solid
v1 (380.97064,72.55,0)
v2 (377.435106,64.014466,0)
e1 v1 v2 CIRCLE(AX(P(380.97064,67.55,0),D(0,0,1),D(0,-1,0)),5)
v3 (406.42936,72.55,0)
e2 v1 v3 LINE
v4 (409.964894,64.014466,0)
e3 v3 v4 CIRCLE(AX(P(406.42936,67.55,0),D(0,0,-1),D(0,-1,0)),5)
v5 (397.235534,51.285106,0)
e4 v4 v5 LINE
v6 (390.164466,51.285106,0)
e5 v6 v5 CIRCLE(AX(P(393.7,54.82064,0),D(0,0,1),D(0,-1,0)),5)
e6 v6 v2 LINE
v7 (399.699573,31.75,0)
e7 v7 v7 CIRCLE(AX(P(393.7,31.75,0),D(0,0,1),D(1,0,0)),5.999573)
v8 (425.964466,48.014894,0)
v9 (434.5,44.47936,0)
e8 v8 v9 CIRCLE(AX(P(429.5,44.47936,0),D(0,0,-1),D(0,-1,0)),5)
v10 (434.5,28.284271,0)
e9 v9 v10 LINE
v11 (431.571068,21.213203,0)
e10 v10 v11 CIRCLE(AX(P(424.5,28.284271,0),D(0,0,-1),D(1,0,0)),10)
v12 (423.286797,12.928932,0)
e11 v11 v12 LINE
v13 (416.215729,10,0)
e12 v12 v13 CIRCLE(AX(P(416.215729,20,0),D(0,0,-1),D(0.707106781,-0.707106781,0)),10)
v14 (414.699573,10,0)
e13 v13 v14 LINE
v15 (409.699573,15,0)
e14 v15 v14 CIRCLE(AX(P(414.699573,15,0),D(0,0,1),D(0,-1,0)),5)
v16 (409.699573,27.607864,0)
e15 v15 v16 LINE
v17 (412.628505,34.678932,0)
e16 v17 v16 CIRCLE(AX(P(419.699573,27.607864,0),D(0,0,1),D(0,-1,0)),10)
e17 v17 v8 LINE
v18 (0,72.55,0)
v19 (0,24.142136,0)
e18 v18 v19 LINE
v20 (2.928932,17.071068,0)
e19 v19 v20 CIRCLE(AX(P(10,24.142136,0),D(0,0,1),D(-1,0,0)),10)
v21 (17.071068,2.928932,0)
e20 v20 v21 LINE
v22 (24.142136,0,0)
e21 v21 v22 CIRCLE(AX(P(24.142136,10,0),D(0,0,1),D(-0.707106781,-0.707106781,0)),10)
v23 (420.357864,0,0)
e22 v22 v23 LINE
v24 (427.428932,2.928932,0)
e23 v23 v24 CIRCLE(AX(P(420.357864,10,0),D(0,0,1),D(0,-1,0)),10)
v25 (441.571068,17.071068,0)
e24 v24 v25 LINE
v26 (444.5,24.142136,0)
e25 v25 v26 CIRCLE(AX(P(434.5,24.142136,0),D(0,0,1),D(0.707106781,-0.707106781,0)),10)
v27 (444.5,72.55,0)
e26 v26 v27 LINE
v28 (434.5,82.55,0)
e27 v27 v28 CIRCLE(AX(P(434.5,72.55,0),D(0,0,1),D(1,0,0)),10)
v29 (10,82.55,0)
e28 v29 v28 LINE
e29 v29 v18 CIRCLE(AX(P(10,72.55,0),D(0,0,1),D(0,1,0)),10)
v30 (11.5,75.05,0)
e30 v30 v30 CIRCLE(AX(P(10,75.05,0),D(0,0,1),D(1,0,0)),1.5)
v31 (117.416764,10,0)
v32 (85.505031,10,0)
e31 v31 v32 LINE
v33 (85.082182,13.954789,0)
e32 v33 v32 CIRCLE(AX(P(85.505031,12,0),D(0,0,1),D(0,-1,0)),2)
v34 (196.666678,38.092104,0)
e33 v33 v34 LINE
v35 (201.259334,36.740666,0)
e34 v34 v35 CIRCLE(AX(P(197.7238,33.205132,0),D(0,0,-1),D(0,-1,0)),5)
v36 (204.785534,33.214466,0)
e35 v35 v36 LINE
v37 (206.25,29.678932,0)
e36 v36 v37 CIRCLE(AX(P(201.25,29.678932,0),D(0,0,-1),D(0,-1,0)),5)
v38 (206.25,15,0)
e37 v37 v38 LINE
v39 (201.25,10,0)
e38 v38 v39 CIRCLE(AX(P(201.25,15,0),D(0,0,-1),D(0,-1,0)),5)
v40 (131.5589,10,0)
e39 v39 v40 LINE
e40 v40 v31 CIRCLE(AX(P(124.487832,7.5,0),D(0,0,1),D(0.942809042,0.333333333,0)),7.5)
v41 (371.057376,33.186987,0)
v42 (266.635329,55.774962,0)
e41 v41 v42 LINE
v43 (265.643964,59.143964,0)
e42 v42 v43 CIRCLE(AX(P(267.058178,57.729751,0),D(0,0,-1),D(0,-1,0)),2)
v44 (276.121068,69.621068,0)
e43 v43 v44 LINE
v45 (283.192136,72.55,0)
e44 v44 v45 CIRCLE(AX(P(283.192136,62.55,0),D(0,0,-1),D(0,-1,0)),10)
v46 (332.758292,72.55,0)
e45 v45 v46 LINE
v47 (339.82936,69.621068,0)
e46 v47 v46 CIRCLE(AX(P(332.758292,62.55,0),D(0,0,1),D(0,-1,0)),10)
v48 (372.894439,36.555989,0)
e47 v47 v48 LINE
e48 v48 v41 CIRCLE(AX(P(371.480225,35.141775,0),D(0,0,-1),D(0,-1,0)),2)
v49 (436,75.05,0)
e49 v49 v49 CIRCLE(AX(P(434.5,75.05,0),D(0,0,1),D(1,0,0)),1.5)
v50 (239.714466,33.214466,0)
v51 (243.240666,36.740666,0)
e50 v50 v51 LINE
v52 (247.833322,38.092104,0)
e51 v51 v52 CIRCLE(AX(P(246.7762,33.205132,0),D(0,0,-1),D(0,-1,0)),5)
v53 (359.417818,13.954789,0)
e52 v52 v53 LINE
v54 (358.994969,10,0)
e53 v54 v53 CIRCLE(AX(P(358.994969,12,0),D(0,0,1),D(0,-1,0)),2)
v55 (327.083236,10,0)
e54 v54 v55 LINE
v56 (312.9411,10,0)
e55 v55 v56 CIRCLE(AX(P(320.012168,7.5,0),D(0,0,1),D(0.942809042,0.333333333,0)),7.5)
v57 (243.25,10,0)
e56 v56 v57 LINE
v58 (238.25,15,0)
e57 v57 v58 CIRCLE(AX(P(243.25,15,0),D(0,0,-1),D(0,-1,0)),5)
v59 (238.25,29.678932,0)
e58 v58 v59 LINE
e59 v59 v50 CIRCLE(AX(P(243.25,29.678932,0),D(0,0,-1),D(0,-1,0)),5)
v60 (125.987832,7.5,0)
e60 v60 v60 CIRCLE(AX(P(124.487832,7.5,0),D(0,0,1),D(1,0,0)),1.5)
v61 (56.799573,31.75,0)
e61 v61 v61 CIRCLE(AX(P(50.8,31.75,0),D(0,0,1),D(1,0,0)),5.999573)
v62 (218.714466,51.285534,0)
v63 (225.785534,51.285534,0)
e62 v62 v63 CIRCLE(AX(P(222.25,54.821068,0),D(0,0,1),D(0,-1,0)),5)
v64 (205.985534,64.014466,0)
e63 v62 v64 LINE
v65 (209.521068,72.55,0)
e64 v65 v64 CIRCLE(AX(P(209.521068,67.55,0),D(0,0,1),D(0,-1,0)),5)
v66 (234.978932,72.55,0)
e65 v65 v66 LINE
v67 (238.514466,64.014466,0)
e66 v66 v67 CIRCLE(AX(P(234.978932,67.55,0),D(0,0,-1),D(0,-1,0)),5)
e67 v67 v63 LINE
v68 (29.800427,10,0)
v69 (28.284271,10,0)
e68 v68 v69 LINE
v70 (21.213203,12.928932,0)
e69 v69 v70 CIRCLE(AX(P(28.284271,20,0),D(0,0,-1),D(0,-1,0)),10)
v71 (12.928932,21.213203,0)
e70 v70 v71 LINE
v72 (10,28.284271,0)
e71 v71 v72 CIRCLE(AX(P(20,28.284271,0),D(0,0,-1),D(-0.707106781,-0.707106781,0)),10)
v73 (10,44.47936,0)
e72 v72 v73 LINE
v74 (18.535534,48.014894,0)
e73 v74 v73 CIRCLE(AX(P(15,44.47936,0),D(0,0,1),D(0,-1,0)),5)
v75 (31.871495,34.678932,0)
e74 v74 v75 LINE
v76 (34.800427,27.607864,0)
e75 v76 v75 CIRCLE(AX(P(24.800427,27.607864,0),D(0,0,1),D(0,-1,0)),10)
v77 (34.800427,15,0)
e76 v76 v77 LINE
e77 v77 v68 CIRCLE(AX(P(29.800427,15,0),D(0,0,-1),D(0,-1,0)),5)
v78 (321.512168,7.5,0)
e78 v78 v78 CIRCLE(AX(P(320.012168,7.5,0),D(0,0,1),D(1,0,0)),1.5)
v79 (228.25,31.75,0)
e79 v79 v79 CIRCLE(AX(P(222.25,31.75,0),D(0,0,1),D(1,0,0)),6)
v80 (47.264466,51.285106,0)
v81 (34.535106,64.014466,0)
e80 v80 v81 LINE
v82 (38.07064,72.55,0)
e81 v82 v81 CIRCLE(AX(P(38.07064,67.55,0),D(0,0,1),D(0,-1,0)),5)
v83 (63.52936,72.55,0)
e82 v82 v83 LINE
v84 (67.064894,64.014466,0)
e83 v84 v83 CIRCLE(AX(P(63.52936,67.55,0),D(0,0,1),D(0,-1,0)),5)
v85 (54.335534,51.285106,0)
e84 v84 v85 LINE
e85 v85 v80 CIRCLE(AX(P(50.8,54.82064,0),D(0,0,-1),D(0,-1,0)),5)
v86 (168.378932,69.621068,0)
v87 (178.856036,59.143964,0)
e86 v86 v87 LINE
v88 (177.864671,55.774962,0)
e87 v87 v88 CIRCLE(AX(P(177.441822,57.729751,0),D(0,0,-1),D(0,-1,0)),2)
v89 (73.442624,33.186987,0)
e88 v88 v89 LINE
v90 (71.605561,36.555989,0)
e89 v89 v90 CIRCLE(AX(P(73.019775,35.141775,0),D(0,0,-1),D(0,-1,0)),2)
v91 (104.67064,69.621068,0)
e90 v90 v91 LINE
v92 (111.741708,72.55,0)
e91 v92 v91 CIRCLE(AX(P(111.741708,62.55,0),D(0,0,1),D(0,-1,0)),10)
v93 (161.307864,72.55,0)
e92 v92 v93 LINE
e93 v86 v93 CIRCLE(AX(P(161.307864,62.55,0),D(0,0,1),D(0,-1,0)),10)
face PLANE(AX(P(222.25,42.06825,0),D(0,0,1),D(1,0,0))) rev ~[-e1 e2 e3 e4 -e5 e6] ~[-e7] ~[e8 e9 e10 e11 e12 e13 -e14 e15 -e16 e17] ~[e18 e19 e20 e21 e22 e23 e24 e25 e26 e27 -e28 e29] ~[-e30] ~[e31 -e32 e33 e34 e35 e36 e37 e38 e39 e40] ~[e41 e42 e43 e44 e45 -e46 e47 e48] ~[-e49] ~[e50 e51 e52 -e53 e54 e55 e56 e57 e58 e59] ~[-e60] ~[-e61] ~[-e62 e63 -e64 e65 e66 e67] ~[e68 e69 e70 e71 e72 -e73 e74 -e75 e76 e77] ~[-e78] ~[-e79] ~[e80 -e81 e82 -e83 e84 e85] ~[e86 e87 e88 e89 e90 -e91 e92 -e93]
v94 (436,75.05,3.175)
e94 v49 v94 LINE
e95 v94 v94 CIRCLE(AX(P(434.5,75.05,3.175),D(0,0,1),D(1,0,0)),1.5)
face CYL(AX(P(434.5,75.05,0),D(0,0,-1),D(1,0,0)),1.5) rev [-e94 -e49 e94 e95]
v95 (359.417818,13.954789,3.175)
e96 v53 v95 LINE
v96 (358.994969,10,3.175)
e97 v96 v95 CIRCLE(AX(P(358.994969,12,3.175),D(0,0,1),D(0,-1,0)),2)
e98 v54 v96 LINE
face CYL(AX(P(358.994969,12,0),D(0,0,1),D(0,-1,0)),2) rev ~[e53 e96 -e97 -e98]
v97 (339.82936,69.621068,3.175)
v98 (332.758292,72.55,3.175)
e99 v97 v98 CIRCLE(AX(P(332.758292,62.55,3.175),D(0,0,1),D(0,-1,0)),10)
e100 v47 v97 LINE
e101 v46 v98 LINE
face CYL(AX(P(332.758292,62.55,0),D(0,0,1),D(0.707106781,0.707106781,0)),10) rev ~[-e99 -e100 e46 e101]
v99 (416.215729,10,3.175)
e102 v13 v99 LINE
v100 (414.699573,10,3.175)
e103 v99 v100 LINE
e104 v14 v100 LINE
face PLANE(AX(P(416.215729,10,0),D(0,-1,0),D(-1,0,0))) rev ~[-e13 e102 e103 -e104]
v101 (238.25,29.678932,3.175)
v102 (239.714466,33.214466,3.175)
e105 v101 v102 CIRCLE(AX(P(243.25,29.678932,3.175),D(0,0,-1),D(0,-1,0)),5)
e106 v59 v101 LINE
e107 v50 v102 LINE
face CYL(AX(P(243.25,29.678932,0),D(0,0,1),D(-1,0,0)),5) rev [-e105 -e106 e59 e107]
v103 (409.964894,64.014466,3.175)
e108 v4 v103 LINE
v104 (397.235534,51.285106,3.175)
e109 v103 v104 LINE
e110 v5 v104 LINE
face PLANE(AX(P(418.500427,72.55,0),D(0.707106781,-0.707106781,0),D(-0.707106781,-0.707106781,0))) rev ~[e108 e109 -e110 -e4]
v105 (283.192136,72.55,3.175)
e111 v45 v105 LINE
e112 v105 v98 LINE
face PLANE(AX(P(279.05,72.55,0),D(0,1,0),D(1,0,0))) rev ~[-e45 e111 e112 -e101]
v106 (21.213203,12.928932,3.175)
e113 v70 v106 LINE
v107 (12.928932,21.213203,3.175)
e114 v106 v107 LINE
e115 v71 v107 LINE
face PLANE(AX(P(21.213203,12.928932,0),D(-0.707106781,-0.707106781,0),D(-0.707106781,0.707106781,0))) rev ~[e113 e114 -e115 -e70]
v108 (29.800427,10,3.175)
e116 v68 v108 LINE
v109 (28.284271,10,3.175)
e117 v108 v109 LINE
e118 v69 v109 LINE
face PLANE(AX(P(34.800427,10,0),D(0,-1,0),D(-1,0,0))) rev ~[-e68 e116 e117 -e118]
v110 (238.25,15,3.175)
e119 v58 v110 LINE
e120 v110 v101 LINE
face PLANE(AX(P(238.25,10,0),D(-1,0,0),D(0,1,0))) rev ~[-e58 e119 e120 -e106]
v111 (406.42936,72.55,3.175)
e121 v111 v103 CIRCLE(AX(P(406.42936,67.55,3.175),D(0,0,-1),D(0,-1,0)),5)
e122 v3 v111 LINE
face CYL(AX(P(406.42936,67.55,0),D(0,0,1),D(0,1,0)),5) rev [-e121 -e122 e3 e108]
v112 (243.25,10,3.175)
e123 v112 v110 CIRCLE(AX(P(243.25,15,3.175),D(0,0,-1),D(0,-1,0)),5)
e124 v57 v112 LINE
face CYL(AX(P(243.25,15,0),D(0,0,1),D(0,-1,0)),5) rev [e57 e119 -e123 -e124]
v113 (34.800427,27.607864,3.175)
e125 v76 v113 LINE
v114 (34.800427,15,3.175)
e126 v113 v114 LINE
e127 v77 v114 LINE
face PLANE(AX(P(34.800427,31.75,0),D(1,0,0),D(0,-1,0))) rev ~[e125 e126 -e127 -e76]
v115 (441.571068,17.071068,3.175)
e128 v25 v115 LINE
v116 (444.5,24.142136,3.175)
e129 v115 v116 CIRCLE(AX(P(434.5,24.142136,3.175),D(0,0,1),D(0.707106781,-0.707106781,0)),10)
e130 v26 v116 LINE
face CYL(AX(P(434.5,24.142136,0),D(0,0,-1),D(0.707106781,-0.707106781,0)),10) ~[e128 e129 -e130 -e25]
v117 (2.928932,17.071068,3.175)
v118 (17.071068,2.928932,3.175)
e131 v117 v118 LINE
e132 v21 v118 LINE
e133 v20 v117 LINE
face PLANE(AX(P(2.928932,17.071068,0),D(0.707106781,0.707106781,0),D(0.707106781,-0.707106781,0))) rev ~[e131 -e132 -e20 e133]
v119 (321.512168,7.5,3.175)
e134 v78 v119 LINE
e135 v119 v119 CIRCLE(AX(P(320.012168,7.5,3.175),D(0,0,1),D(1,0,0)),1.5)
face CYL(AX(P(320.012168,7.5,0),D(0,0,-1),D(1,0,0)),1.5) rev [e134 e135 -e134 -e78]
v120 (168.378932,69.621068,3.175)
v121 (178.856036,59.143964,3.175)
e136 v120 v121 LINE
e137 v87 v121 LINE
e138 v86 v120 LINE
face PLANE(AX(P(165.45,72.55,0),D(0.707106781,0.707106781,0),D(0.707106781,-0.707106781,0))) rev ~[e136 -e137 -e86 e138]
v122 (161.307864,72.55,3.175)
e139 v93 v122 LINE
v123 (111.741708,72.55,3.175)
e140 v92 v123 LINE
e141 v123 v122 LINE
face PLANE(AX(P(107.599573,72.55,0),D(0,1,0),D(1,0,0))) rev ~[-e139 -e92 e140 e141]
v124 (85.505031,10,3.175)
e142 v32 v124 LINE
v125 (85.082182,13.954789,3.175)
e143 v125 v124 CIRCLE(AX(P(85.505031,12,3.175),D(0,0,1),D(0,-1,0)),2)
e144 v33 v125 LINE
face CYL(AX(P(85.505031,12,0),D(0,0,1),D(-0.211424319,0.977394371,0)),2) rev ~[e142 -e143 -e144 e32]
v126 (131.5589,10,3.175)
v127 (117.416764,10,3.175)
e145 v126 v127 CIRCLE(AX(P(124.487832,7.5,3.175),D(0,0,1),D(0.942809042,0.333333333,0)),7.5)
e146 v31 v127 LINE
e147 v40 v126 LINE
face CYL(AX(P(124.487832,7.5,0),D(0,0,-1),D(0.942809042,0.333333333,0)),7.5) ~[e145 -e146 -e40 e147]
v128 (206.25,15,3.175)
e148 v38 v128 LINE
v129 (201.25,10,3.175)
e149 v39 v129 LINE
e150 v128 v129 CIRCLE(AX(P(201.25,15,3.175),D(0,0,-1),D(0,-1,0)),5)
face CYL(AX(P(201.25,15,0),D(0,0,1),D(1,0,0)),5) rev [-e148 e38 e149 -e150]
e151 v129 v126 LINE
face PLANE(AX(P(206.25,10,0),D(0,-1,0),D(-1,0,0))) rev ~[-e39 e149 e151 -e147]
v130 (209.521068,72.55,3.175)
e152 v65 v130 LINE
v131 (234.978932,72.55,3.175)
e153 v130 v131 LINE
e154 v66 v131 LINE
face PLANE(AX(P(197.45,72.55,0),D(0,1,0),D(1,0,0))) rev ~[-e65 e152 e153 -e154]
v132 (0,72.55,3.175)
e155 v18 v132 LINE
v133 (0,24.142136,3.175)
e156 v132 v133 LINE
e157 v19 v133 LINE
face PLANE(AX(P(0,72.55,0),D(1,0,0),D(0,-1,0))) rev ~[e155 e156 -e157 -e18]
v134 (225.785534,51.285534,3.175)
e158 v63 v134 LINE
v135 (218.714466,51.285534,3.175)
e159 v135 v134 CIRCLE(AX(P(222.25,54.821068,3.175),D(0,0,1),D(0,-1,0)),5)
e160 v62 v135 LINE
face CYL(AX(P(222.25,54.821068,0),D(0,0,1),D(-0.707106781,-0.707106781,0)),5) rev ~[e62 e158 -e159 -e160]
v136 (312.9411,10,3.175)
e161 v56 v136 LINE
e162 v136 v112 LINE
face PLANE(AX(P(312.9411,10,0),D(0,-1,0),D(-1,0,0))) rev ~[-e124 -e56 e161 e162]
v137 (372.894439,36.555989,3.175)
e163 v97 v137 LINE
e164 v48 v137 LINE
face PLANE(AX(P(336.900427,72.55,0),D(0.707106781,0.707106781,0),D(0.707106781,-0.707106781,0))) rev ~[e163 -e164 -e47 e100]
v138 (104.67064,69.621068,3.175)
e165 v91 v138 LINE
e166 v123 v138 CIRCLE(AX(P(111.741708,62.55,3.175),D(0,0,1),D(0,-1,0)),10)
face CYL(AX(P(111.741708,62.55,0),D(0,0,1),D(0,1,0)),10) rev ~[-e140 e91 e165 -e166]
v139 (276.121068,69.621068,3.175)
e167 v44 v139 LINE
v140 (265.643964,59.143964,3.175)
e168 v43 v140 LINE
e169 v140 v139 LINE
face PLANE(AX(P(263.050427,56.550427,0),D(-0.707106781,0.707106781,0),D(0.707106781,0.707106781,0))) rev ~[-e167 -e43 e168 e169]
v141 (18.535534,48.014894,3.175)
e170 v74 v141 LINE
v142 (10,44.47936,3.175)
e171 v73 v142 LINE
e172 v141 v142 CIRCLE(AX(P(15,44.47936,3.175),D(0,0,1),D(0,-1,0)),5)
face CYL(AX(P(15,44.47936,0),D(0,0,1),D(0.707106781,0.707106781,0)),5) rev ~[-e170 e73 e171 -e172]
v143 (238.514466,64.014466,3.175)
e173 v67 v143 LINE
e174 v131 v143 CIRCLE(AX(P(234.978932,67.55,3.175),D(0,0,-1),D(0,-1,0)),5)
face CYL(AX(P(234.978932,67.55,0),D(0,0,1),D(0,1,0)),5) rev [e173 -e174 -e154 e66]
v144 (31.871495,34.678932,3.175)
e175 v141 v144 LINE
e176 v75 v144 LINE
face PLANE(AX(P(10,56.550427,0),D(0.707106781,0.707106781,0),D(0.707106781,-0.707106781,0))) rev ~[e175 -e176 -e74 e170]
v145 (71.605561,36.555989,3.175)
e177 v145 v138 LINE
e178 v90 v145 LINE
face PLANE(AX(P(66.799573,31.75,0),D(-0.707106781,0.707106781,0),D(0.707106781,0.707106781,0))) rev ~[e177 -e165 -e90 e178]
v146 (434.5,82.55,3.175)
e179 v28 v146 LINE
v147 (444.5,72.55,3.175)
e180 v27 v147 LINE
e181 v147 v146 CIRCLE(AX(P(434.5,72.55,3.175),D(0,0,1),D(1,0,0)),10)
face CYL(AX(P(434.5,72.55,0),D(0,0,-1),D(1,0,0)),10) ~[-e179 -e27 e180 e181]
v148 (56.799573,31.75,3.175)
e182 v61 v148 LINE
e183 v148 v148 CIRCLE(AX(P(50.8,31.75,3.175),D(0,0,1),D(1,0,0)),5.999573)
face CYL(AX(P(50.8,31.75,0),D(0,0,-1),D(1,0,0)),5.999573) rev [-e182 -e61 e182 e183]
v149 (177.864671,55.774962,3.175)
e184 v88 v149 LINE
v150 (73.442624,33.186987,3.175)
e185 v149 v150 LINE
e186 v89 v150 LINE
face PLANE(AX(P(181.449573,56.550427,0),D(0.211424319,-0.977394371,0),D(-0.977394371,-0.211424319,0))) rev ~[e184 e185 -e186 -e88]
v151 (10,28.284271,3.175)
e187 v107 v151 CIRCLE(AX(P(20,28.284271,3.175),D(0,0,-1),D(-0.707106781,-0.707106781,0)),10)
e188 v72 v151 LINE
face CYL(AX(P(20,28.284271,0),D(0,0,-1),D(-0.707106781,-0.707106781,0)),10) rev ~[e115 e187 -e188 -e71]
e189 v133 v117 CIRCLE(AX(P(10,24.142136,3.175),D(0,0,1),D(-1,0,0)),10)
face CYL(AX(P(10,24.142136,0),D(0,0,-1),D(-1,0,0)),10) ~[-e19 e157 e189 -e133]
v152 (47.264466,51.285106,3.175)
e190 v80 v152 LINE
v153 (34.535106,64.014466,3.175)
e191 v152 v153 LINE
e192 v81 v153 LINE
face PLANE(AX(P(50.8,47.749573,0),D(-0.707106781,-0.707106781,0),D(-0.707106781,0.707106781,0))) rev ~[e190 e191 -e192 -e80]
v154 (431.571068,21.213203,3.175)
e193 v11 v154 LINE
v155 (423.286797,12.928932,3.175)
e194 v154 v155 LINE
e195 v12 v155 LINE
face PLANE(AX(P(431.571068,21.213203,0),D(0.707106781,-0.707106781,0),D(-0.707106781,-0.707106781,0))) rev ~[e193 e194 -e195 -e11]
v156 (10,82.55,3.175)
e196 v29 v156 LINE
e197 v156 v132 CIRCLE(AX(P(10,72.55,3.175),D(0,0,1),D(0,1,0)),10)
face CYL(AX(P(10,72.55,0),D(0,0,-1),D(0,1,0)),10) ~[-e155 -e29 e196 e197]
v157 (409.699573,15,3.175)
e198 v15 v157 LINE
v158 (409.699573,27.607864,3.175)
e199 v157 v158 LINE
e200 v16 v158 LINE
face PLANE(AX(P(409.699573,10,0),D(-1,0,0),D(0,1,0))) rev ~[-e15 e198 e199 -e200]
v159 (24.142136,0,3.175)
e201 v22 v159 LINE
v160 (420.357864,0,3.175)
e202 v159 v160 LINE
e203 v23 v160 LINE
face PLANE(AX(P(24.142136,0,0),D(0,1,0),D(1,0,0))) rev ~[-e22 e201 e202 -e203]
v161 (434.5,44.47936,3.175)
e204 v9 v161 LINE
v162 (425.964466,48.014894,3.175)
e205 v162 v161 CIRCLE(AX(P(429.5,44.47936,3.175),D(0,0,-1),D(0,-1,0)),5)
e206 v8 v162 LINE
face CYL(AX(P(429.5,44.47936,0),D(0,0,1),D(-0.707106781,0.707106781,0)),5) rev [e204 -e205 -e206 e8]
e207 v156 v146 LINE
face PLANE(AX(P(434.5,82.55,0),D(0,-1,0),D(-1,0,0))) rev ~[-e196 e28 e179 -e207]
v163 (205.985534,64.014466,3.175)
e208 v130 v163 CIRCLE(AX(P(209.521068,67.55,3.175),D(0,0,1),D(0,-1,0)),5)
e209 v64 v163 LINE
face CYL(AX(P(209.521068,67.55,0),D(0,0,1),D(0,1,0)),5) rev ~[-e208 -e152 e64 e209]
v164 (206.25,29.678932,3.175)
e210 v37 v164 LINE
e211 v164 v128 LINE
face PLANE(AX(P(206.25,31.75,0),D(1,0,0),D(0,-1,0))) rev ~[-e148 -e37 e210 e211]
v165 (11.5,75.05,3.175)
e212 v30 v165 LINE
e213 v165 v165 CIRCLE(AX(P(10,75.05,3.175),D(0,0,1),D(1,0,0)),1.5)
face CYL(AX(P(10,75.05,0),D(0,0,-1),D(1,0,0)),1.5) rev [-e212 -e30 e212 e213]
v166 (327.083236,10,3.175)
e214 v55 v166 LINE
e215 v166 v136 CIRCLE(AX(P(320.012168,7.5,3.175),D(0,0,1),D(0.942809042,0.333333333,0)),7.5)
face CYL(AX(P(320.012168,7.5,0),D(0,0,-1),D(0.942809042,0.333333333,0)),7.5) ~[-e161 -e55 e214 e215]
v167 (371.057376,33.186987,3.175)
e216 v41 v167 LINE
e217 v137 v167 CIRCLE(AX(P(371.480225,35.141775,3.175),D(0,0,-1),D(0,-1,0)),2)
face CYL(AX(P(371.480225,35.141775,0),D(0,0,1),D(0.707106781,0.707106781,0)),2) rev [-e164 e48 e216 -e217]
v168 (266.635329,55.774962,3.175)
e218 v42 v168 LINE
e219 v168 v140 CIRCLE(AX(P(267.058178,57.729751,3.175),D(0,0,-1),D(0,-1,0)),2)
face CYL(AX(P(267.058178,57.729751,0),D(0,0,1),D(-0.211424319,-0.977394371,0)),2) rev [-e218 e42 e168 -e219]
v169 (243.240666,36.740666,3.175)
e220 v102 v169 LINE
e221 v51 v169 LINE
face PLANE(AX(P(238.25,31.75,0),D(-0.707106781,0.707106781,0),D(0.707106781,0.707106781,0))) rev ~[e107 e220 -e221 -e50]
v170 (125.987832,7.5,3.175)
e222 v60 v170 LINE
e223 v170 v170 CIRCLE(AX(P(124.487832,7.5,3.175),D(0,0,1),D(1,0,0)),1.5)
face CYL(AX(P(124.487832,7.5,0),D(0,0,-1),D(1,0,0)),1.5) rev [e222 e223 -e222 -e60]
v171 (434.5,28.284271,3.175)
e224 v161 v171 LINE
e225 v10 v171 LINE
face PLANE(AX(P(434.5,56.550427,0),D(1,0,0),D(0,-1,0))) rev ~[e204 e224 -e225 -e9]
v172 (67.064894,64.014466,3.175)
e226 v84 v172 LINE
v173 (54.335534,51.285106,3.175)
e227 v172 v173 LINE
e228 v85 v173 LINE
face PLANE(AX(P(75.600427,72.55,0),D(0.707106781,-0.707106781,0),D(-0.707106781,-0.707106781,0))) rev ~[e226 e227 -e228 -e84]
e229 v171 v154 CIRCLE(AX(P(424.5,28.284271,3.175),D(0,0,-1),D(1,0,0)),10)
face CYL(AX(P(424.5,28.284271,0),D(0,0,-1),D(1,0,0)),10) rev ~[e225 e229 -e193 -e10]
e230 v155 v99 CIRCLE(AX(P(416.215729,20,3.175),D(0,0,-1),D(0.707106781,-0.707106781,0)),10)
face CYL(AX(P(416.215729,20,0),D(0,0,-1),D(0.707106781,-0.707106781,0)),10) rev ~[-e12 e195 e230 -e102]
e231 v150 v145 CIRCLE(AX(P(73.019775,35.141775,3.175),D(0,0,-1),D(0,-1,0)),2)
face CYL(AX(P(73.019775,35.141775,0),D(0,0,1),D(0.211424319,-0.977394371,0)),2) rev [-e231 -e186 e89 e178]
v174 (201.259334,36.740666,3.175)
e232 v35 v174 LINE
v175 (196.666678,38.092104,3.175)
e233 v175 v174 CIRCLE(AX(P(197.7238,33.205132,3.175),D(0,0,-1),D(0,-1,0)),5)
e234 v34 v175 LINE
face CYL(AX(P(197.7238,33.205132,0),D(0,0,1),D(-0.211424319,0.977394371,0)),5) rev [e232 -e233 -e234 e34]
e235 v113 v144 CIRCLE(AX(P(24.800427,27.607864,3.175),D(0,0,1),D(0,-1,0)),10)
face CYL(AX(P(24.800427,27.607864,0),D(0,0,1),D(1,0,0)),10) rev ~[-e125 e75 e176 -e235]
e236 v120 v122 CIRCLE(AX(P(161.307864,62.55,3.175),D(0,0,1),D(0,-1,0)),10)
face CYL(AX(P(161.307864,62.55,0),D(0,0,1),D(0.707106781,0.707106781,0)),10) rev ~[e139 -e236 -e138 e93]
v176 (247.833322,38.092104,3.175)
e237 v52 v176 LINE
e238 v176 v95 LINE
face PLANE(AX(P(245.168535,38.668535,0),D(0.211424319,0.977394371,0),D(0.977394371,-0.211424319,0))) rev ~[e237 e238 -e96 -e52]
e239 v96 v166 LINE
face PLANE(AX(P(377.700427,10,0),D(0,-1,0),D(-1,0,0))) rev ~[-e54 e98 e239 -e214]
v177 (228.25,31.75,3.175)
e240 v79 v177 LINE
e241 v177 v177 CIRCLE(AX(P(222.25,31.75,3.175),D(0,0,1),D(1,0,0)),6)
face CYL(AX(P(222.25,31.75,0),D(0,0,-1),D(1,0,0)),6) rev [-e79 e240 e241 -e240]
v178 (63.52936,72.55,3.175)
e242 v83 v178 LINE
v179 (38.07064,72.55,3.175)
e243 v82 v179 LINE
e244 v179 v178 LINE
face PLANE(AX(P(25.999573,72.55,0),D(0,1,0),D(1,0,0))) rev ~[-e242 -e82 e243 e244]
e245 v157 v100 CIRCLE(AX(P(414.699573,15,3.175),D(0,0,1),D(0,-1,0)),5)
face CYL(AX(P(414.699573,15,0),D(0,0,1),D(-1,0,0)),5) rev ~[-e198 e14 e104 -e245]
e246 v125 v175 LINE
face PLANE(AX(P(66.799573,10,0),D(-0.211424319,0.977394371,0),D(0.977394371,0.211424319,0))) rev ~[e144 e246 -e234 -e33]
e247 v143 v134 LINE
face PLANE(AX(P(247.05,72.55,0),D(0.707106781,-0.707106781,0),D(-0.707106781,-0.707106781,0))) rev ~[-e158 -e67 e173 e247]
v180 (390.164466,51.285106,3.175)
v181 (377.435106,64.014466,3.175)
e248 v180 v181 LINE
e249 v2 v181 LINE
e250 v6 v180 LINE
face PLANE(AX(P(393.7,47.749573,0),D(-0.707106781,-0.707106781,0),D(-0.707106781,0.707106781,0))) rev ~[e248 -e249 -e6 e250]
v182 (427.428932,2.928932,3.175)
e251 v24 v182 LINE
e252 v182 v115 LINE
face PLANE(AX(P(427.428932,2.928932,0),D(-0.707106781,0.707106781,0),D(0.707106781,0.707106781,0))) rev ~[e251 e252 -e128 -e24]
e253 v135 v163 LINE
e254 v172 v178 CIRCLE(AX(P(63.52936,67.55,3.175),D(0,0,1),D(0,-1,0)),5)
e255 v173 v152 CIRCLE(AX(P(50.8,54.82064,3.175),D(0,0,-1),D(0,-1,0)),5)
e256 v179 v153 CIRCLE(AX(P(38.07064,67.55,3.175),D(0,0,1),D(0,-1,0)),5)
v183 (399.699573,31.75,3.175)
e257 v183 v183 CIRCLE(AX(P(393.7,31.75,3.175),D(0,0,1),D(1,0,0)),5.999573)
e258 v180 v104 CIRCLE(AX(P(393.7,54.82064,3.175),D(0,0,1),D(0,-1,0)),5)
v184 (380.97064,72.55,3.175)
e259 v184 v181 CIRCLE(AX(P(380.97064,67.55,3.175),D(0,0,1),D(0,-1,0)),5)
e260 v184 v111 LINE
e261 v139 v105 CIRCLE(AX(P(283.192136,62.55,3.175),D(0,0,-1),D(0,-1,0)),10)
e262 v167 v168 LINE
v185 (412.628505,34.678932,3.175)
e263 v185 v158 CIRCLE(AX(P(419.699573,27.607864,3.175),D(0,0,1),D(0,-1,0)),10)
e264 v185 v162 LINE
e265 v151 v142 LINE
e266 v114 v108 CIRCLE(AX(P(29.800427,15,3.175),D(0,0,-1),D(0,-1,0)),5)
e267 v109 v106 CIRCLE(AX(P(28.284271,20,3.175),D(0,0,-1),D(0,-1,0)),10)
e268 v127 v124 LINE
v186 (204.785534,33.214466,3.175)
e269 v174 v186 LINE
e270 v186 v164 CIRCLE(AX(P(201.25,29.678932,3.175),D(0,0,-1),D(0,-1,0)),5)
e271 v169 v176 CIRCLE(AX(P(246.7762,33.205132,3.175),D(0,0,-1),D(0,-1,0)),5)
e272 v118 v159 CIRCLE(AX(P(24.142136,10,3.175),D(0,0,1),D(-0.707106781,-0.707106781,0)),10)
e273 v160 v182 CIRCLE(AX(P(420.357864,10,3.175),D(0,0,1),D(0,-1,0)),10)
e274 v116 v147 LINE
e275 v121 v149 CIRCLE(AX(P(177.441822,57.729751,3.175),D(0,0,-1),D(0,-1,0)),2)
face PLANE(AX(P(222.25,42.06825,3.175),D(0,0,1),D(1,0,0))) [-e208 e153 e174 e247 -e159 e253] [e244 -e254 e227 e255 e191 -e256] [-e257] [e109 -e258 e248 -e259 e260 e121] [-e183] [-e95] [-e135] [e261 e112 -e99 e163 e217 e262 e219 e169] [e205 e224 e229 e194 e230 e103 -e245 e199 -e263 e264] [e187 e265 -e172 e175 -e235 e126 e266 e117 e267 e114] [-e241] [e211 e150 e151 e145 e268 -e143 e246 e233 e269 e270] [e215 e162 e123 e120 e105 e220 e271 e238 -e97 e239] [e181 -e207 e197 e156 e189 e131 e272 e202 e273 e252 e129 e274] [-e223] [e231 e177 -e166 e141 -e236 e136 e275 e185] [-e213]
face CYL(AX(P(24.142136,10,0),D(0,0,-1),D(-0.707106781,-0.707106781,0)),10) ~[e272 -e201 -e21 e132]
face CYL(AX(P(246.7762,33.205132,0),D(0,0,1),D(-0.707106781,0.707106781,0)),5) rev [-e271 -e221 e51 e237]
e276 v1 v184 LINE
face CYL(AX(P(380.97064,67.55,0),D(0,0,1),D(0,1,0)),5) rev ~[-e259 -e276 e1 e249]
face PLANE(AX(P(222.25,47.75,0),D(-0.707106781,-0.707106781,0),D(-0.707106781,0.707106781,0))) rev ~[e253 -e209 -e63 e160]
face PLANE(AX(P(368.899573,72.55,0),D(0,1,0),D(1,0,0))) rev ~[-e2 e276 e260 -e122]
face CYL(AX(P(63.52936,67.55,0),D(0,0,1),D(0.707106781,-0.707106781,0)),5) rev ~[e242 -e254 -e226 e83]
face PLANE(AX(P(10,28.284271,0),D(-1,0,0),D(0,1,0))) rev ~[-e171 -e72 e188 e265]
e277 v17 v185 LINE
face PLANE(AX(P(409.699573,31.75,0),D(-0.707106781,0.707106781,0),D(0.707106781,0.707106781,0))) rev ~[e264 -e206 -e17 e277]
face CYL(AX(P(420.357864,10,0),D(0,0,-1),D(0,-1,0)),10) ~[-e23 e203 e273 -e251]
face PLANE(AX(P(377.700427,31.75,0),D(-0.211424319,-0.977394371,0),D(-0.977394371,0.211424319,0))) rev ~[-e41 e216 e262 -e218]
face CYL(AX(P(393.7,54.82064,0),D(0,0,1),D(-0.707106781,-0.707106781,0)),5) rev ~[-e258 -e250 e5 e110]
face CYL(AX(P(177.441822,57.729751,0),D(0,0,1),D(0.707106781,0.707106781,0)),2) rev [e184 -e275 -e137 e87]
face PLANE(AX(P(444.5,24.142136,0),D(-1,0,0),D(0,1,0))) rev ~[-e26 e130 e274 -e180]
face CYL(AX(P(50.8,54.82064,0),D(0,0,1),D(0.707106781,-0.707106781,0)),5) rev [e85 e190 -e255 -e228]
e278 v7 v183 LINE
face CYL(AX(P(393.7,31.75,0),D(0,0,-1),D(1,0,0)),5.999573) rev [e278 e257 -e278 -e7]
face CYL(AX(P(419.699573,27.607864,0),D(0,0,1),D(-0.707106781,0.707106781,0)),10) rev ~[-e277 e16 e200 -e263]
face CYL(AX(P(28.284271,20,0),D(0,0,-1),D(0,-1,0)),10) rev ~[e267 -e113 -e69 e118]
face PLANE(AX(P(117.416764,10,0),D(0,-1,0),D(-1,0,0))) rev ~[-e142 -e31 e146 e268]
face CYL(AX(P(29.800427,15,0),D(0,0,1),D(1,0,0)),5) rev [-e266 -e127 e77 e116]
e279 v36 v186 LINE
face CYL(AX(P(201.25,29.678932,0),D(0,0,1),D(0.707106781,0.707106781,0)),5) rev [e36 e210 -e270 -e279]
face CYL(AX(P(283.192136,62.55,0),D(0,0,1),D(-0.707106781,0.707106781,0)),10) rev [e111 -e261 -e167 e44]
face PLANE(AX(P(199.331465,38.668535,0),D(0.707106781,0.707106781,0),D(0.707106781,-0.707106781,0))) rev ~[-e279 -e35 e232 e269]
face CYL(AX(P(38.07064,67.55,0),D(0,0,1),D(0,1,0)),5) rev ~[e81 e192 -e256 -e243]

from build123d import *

# Parameters (mm, degrees)
SKETCH1_R           = 1.5
SKETCH1_R_2         = 5.999572562
SKETCH1_R_3         = 6
BOSS_EXTRUDE1_DEPTH = 3.175
FILLET1_R           = 10
FILLET2_R           = 5
FILLET3_R           = 5
FILLET4_R           = 5
FILLET5_R           = 2
SKETCH2_R           = 1.55
SKETCH2_R_2         = 10.9982
BOSS_EXTRUDE2_DEPTH = 3.175
FILLET6_R           = 10
SKETCH3_W           = 432.103191494
SKETCH3_H           = 125.929831314
CUT_EXTRUDE1_DEPTH  = 10


with BuildPart() as part:
    # Sketch1 → Boss-Extrude1 (new body)
    with BuildSketch(Plane.XY):
        with BuildLine():
            ThreePointArc((0, 24.142135624), (0.761204675, 20.3153013), (2.928932188, 17.071067812))
            Line((2.928932188, 17.071067812), (17.071067812, 2.928932188))
            ThreePointArc((17.071067812, 2.928932188), (20.3153013, 0.761204675), (24.142135624, 0))
            Line((24.142135624, 0), (420.357864376, 0))
            ThreePointArc((420.357864376, 0), (424.1846987, 0.761204675), (427.428932188, 2.928932188))
            Line((427.428932188, 2.928932188), (441.571067812, 17.071067812))
            ThreePointArc((441.571067812, 17.071067812), (443.738795325, 20.3153013), (444.5, 24.142135624))
            Line((444.5, 24.142135624), (444.5, 72.55))
            ThreePointArc((444.5, 72.55), (441.571067812, 79.621067812), (434.5, 82.55))
            Line((434.5, 82.55), (10, 82.55))
            ThreePointArc((10, 82.55), (2.928932188, 79.621067812), (0, 72.55))
            Line((0, 72.55), (0, 24.142135624))
        make_face()
        with Locations((124.487832174, 7.5)):
            Circle(SKETCH1_R, mode=Mode.SUBTRACT)
        with BuildLine():
            ThreePointArc((12.928932188, 21.213203436), (10.761204675, 24.457436924), (10, 28.284271247))
            Line((10, 28.284271247), (10, 56.550427438))
            Line((10, 56.550427438), (34.800427438, 31.75))
            Line((34.800427438, 31.75), (34.800427438, 10))
            Line((34.800427438, 10), (28.284271247, 10))
            ThreePointArc((28.284271247, 10), (24.457436924, 10.761204675), (21.213203436, 12.928932188))
            Line((21.213203436, 12.928932188), (12.928932188, 21.213203436))
        make_face(mode=Mode.SUBTRACT)
        with Locations((50.8, 31.75)):
            Circle(SKETCH1_R_2, mode=Mode.SUBTRACT)
        with BuildLine():
            Line((199.331464685, 38.668535315), (206.25, 31.75))
            Line((206.25, 31.75), (206.25, 10))
            Line((206.25, 10), (131.558899986, 10))
            ThreePointArc((131.558899986, 10), (124.487832174, 15), (117.416764362, 10))
            Line((117.416764362, 10), (66.799572562, 10))
            Line((66.799572562, 10), (199.331464685, 38.668535315))
        make_face(mode=Mode.SUBTRACT)
        with Locations((320.012167826, 7.5)):
            Circle(SKETCH1_R, mode=Mode.SUBTRACT)
        with BuildLine():
            Line((238.25, 10), (238.25, 31.75))
            Line((238.25, 31.75), (245.168535315, 38.668535315))
            Line((245.168535315, 38.668535315), (377.700427438, 10))
            Line((377.700427438, 10), (327.083235638, 10))
            ThreePointArc((327.083235638, 10), (320.012167826, 15), (312.941100014, 10))
            Line((312.941100014, 10), (238.25, 10))
        make_face(mode=Mode.SUBTRACT)
        with Locations((222.25, 31.75)):
            Circle(SKETCH1_R_3, mode=Mode.SUBTRACT)
        with Locations((393.7, 31.75)):
            Circle(SKETCH1_R_2, mode=Mode.SUBTRACT)
        with BuildLine():
            Line((434.5, 56.550427438), (434.5, 28.284271247))
            ThreePointArc((434.5, 28.284271247), (433.738795325, 24.457436924), (431.571067812, 21.213203436))
            Line((431.571067812, 21.213203436), (423.286796564, 12.928932188))
            ThreePointArc((423.286796564, 12.928932188), (420.042563076, 10.761204675), (416.215728753, 10))
            Line((416.215728753, 10), (409.699572562, 10))
            Line((409.699572562, 10), (409.699572562, 31.75))
            Line((409.699572562, 31.75), (434.5, 56.550427438))
        make_face(mode=Mode.SUBTRACT)
        Polygon((50.8, 47.749572562), (25.999572562, 72.55), (75.600427438, 72.55), align=None, mode=Mode.SUBTRACT)
        Polygon((181.449572562, 56.550427438), (66.799572562, 31.75), (107.599572562, 72.55), (165.45, 72.55), align=None, mode=Mode.SUBTRACT)
        Polygon((247.05, 72.55), (222.25, 47.75), (197.45, 72.55), align=None, mode=Mode.SUBTRACT)
        with Locations((10, 75.05)):
            Circle(SKETCH1_R, mode=Mode.SUBTRACT)
        Polygon((263.050427438, 56.550427438), (279.05, 72.55), (336.900427438, 72.55), (377.700427438, 31.75), align=None, mode=Mode.SUBTRACT)
        Polygon((418.500427438, 72.55), (393.7, 47.749572562), (368.899572562, 72.55), align=None, mode=Mode.SUBTRACT)
        with Locations((434.5, 75.05)):
            Circle(SKETCH1_R, mode=Mode.SUBTRACT)
    extrude(amount=BOSS_EXTRUDE1_DEPTH)

    # Fillet1
    fillet1_edges = [part.edges().sort_by_distance(p)[0] for p in [
        (34.800427438, 31.75, 1.5875),
        (409.699572562, 31.75, 1.5875),
        (336.900427438, 72.55, 1.5875),
        (279.05, 72.55, 1.5875),
        (165.45, 72.55, 1.5875),
        (107.599572562, 72.55, 1.5875),
    ]]
    fillet(fillet1_edges, radius=FILLET1_R)

    # Fillet2
    fillet2_edges = [part.edges().sort_by_distance(p)[0] for p in [
        (245.168535315, 38.668535315, 1.5875),
        (238.25, 31.75, 1.5875),
        (238.25, 10, 1.5875),
        (34.800427438, 10, 1.5875),
        (409.699572562, 10, 1.5875),
        (206.25, 10, 1.5875),
        (206.25, 31.75, 1.5875),
        (199.331464685, 38.668535315, 1.5875),
    ]]
    fillet(fillet2_edges, radius=FILLET2_R)

    # Fillet3
    fillet3_edges = [part.edges().sort_by_distance(p)[0] for p in [
        (222.25, 47.75, 1.5875),
        (247.05, 72.55, 1.5875),
        (197.45, 72.55, 1.5875),
    ]]
    fillet(fillet3_edges, radius=FILLET3_R)

    # Fillet4
    fillet4_edges = [part.edges().sort_by_distance(p)[0] for p in [
        (10, 56.550427438, 1.5875),
        (434.5, 56.550427438, 1.5875),
        (75.600427438, 72.55, 1.5875),
        (25.999572562, 72.55, 1.5875),
        (50.8, 47.749572562, 1.5875),
        (393.7, 47.749572562, 1.5875),
        (418.500427438, 72.55, 1.5875),
        (368.899572562, 72.55, 1.5875),
    ]]
    fillet(fillet4_edges, radius=FILLET4_R)

    # Fillet5
    fillet5_edges = [part.edges().sort_by_distance(p)[0] for p in [
        (377.700427438, 10, 1.5875),
        (377.700427438, 31.75, 1.5875),
        (263.050427438, 56.550427438, 1.5875),
        (66.799572562, 31.75, 1.5875),
        (181.449572562, 56.550427438, 1.5875),
        (66.799572562, 10, 1.5875),
    ]]
    fillet(fillet5_edges, radius=FILLET5_R)

    # Sketch2 → Boss-Extrude2 (add)
    with BuildSketch(Plane.XY.offset(3.175)):
        with BuildLine():
            Line((135.175, 104.55), (135.175, 82.55))
            Line((135.175, 82.55), (97.075, 82.55))
            Line((97.075, 82.55), (97.075, 104.55))
            ThreePointArc((97.075, 104.55), (116.125, 123.6), (135.175, 104.55))
        make_face()
        with Locations((130.1204, 104.55)):
            Circle(SKETCH2_R, mode=Mode.SUBTRACT)
        with Locations((116.125, 90.5546)):
            Circle(SKETCH2_R, mode=Mode.SUBTRACT)
        with Locations((102.1296, 104.55)):
            Circle(SKETCH2_R, mode=Mode.SUBTRACT)
        with Locations((116.125, 118.5454)):
            Circle(SKETCH2_R, mode=Mode.SUBTRACT)
        with Locations((116.125, 104.55)):
            Circle(SKETCH2_R_2, mode=Mode.SUBTRACT)
        with BuildLine():
            ThreePointArc((309.325, 104.55), (328.375, 123.6), (347.425, 104.55))
            Line((347.425, 104.55), (347.425, 82.55))
            Line((347.425, 82.55), (309.325, 82.55))
            Line((309.325, 82.55), (309.325, 104.55))
        make_face()
        with Locations((328.375, 118.5454)):
            Circle(SKETCH2_R, mode=Mode.SUBTRACT)
        with Locations((328.375, 90.5546)):
            Circle(SKETCH2_R, mode=Mode.SUBTRACT)
        with Locations((314.3796, 104.55)):
            Circle(SKETCH2_R, mode=Mode.SUBTRACT)
        with Locations((342.3704, 104.55)):
            Circle(SKETCH2_R, mode=Mode.SUBTRACT)
        with Locations((328.375, 104.55)):
            Circle(SKETCH2_R_2, mode=Mode.SUBTRACT)
    extrude(amount=-BOSS_EXTRUDE2_DEPTH)

    # Fillet6
    fillet6_edges = [part.edges().sort_by_distance(p)[0] for p in [
        (135.175, 82.55, 1.5875),
        (97.075, 82.55, 1.5875),
        (347.425, 82.55, 1.5875),
        (309.325, 82.55, 1.5875),
    ]]
    fillet(fillet6_edges, radius=FILLET6_R)

    # Sketch3 → Cut-Extrude1 (cut)
    with BuildSketch(Plane(origin=(0, 0, 0), x_dir=(-1, 0, 0), z_dir=(0, 0, -1))):
        with Locations((-252.22532491, 145.514915657)):
            Rectangle(SKETCH3_W, SKETCH3_H)
    extrude(amount=-CUT_EXTRUDE1_DEPTH, mode=Mode.SUBTRACT)


solid = part.part
